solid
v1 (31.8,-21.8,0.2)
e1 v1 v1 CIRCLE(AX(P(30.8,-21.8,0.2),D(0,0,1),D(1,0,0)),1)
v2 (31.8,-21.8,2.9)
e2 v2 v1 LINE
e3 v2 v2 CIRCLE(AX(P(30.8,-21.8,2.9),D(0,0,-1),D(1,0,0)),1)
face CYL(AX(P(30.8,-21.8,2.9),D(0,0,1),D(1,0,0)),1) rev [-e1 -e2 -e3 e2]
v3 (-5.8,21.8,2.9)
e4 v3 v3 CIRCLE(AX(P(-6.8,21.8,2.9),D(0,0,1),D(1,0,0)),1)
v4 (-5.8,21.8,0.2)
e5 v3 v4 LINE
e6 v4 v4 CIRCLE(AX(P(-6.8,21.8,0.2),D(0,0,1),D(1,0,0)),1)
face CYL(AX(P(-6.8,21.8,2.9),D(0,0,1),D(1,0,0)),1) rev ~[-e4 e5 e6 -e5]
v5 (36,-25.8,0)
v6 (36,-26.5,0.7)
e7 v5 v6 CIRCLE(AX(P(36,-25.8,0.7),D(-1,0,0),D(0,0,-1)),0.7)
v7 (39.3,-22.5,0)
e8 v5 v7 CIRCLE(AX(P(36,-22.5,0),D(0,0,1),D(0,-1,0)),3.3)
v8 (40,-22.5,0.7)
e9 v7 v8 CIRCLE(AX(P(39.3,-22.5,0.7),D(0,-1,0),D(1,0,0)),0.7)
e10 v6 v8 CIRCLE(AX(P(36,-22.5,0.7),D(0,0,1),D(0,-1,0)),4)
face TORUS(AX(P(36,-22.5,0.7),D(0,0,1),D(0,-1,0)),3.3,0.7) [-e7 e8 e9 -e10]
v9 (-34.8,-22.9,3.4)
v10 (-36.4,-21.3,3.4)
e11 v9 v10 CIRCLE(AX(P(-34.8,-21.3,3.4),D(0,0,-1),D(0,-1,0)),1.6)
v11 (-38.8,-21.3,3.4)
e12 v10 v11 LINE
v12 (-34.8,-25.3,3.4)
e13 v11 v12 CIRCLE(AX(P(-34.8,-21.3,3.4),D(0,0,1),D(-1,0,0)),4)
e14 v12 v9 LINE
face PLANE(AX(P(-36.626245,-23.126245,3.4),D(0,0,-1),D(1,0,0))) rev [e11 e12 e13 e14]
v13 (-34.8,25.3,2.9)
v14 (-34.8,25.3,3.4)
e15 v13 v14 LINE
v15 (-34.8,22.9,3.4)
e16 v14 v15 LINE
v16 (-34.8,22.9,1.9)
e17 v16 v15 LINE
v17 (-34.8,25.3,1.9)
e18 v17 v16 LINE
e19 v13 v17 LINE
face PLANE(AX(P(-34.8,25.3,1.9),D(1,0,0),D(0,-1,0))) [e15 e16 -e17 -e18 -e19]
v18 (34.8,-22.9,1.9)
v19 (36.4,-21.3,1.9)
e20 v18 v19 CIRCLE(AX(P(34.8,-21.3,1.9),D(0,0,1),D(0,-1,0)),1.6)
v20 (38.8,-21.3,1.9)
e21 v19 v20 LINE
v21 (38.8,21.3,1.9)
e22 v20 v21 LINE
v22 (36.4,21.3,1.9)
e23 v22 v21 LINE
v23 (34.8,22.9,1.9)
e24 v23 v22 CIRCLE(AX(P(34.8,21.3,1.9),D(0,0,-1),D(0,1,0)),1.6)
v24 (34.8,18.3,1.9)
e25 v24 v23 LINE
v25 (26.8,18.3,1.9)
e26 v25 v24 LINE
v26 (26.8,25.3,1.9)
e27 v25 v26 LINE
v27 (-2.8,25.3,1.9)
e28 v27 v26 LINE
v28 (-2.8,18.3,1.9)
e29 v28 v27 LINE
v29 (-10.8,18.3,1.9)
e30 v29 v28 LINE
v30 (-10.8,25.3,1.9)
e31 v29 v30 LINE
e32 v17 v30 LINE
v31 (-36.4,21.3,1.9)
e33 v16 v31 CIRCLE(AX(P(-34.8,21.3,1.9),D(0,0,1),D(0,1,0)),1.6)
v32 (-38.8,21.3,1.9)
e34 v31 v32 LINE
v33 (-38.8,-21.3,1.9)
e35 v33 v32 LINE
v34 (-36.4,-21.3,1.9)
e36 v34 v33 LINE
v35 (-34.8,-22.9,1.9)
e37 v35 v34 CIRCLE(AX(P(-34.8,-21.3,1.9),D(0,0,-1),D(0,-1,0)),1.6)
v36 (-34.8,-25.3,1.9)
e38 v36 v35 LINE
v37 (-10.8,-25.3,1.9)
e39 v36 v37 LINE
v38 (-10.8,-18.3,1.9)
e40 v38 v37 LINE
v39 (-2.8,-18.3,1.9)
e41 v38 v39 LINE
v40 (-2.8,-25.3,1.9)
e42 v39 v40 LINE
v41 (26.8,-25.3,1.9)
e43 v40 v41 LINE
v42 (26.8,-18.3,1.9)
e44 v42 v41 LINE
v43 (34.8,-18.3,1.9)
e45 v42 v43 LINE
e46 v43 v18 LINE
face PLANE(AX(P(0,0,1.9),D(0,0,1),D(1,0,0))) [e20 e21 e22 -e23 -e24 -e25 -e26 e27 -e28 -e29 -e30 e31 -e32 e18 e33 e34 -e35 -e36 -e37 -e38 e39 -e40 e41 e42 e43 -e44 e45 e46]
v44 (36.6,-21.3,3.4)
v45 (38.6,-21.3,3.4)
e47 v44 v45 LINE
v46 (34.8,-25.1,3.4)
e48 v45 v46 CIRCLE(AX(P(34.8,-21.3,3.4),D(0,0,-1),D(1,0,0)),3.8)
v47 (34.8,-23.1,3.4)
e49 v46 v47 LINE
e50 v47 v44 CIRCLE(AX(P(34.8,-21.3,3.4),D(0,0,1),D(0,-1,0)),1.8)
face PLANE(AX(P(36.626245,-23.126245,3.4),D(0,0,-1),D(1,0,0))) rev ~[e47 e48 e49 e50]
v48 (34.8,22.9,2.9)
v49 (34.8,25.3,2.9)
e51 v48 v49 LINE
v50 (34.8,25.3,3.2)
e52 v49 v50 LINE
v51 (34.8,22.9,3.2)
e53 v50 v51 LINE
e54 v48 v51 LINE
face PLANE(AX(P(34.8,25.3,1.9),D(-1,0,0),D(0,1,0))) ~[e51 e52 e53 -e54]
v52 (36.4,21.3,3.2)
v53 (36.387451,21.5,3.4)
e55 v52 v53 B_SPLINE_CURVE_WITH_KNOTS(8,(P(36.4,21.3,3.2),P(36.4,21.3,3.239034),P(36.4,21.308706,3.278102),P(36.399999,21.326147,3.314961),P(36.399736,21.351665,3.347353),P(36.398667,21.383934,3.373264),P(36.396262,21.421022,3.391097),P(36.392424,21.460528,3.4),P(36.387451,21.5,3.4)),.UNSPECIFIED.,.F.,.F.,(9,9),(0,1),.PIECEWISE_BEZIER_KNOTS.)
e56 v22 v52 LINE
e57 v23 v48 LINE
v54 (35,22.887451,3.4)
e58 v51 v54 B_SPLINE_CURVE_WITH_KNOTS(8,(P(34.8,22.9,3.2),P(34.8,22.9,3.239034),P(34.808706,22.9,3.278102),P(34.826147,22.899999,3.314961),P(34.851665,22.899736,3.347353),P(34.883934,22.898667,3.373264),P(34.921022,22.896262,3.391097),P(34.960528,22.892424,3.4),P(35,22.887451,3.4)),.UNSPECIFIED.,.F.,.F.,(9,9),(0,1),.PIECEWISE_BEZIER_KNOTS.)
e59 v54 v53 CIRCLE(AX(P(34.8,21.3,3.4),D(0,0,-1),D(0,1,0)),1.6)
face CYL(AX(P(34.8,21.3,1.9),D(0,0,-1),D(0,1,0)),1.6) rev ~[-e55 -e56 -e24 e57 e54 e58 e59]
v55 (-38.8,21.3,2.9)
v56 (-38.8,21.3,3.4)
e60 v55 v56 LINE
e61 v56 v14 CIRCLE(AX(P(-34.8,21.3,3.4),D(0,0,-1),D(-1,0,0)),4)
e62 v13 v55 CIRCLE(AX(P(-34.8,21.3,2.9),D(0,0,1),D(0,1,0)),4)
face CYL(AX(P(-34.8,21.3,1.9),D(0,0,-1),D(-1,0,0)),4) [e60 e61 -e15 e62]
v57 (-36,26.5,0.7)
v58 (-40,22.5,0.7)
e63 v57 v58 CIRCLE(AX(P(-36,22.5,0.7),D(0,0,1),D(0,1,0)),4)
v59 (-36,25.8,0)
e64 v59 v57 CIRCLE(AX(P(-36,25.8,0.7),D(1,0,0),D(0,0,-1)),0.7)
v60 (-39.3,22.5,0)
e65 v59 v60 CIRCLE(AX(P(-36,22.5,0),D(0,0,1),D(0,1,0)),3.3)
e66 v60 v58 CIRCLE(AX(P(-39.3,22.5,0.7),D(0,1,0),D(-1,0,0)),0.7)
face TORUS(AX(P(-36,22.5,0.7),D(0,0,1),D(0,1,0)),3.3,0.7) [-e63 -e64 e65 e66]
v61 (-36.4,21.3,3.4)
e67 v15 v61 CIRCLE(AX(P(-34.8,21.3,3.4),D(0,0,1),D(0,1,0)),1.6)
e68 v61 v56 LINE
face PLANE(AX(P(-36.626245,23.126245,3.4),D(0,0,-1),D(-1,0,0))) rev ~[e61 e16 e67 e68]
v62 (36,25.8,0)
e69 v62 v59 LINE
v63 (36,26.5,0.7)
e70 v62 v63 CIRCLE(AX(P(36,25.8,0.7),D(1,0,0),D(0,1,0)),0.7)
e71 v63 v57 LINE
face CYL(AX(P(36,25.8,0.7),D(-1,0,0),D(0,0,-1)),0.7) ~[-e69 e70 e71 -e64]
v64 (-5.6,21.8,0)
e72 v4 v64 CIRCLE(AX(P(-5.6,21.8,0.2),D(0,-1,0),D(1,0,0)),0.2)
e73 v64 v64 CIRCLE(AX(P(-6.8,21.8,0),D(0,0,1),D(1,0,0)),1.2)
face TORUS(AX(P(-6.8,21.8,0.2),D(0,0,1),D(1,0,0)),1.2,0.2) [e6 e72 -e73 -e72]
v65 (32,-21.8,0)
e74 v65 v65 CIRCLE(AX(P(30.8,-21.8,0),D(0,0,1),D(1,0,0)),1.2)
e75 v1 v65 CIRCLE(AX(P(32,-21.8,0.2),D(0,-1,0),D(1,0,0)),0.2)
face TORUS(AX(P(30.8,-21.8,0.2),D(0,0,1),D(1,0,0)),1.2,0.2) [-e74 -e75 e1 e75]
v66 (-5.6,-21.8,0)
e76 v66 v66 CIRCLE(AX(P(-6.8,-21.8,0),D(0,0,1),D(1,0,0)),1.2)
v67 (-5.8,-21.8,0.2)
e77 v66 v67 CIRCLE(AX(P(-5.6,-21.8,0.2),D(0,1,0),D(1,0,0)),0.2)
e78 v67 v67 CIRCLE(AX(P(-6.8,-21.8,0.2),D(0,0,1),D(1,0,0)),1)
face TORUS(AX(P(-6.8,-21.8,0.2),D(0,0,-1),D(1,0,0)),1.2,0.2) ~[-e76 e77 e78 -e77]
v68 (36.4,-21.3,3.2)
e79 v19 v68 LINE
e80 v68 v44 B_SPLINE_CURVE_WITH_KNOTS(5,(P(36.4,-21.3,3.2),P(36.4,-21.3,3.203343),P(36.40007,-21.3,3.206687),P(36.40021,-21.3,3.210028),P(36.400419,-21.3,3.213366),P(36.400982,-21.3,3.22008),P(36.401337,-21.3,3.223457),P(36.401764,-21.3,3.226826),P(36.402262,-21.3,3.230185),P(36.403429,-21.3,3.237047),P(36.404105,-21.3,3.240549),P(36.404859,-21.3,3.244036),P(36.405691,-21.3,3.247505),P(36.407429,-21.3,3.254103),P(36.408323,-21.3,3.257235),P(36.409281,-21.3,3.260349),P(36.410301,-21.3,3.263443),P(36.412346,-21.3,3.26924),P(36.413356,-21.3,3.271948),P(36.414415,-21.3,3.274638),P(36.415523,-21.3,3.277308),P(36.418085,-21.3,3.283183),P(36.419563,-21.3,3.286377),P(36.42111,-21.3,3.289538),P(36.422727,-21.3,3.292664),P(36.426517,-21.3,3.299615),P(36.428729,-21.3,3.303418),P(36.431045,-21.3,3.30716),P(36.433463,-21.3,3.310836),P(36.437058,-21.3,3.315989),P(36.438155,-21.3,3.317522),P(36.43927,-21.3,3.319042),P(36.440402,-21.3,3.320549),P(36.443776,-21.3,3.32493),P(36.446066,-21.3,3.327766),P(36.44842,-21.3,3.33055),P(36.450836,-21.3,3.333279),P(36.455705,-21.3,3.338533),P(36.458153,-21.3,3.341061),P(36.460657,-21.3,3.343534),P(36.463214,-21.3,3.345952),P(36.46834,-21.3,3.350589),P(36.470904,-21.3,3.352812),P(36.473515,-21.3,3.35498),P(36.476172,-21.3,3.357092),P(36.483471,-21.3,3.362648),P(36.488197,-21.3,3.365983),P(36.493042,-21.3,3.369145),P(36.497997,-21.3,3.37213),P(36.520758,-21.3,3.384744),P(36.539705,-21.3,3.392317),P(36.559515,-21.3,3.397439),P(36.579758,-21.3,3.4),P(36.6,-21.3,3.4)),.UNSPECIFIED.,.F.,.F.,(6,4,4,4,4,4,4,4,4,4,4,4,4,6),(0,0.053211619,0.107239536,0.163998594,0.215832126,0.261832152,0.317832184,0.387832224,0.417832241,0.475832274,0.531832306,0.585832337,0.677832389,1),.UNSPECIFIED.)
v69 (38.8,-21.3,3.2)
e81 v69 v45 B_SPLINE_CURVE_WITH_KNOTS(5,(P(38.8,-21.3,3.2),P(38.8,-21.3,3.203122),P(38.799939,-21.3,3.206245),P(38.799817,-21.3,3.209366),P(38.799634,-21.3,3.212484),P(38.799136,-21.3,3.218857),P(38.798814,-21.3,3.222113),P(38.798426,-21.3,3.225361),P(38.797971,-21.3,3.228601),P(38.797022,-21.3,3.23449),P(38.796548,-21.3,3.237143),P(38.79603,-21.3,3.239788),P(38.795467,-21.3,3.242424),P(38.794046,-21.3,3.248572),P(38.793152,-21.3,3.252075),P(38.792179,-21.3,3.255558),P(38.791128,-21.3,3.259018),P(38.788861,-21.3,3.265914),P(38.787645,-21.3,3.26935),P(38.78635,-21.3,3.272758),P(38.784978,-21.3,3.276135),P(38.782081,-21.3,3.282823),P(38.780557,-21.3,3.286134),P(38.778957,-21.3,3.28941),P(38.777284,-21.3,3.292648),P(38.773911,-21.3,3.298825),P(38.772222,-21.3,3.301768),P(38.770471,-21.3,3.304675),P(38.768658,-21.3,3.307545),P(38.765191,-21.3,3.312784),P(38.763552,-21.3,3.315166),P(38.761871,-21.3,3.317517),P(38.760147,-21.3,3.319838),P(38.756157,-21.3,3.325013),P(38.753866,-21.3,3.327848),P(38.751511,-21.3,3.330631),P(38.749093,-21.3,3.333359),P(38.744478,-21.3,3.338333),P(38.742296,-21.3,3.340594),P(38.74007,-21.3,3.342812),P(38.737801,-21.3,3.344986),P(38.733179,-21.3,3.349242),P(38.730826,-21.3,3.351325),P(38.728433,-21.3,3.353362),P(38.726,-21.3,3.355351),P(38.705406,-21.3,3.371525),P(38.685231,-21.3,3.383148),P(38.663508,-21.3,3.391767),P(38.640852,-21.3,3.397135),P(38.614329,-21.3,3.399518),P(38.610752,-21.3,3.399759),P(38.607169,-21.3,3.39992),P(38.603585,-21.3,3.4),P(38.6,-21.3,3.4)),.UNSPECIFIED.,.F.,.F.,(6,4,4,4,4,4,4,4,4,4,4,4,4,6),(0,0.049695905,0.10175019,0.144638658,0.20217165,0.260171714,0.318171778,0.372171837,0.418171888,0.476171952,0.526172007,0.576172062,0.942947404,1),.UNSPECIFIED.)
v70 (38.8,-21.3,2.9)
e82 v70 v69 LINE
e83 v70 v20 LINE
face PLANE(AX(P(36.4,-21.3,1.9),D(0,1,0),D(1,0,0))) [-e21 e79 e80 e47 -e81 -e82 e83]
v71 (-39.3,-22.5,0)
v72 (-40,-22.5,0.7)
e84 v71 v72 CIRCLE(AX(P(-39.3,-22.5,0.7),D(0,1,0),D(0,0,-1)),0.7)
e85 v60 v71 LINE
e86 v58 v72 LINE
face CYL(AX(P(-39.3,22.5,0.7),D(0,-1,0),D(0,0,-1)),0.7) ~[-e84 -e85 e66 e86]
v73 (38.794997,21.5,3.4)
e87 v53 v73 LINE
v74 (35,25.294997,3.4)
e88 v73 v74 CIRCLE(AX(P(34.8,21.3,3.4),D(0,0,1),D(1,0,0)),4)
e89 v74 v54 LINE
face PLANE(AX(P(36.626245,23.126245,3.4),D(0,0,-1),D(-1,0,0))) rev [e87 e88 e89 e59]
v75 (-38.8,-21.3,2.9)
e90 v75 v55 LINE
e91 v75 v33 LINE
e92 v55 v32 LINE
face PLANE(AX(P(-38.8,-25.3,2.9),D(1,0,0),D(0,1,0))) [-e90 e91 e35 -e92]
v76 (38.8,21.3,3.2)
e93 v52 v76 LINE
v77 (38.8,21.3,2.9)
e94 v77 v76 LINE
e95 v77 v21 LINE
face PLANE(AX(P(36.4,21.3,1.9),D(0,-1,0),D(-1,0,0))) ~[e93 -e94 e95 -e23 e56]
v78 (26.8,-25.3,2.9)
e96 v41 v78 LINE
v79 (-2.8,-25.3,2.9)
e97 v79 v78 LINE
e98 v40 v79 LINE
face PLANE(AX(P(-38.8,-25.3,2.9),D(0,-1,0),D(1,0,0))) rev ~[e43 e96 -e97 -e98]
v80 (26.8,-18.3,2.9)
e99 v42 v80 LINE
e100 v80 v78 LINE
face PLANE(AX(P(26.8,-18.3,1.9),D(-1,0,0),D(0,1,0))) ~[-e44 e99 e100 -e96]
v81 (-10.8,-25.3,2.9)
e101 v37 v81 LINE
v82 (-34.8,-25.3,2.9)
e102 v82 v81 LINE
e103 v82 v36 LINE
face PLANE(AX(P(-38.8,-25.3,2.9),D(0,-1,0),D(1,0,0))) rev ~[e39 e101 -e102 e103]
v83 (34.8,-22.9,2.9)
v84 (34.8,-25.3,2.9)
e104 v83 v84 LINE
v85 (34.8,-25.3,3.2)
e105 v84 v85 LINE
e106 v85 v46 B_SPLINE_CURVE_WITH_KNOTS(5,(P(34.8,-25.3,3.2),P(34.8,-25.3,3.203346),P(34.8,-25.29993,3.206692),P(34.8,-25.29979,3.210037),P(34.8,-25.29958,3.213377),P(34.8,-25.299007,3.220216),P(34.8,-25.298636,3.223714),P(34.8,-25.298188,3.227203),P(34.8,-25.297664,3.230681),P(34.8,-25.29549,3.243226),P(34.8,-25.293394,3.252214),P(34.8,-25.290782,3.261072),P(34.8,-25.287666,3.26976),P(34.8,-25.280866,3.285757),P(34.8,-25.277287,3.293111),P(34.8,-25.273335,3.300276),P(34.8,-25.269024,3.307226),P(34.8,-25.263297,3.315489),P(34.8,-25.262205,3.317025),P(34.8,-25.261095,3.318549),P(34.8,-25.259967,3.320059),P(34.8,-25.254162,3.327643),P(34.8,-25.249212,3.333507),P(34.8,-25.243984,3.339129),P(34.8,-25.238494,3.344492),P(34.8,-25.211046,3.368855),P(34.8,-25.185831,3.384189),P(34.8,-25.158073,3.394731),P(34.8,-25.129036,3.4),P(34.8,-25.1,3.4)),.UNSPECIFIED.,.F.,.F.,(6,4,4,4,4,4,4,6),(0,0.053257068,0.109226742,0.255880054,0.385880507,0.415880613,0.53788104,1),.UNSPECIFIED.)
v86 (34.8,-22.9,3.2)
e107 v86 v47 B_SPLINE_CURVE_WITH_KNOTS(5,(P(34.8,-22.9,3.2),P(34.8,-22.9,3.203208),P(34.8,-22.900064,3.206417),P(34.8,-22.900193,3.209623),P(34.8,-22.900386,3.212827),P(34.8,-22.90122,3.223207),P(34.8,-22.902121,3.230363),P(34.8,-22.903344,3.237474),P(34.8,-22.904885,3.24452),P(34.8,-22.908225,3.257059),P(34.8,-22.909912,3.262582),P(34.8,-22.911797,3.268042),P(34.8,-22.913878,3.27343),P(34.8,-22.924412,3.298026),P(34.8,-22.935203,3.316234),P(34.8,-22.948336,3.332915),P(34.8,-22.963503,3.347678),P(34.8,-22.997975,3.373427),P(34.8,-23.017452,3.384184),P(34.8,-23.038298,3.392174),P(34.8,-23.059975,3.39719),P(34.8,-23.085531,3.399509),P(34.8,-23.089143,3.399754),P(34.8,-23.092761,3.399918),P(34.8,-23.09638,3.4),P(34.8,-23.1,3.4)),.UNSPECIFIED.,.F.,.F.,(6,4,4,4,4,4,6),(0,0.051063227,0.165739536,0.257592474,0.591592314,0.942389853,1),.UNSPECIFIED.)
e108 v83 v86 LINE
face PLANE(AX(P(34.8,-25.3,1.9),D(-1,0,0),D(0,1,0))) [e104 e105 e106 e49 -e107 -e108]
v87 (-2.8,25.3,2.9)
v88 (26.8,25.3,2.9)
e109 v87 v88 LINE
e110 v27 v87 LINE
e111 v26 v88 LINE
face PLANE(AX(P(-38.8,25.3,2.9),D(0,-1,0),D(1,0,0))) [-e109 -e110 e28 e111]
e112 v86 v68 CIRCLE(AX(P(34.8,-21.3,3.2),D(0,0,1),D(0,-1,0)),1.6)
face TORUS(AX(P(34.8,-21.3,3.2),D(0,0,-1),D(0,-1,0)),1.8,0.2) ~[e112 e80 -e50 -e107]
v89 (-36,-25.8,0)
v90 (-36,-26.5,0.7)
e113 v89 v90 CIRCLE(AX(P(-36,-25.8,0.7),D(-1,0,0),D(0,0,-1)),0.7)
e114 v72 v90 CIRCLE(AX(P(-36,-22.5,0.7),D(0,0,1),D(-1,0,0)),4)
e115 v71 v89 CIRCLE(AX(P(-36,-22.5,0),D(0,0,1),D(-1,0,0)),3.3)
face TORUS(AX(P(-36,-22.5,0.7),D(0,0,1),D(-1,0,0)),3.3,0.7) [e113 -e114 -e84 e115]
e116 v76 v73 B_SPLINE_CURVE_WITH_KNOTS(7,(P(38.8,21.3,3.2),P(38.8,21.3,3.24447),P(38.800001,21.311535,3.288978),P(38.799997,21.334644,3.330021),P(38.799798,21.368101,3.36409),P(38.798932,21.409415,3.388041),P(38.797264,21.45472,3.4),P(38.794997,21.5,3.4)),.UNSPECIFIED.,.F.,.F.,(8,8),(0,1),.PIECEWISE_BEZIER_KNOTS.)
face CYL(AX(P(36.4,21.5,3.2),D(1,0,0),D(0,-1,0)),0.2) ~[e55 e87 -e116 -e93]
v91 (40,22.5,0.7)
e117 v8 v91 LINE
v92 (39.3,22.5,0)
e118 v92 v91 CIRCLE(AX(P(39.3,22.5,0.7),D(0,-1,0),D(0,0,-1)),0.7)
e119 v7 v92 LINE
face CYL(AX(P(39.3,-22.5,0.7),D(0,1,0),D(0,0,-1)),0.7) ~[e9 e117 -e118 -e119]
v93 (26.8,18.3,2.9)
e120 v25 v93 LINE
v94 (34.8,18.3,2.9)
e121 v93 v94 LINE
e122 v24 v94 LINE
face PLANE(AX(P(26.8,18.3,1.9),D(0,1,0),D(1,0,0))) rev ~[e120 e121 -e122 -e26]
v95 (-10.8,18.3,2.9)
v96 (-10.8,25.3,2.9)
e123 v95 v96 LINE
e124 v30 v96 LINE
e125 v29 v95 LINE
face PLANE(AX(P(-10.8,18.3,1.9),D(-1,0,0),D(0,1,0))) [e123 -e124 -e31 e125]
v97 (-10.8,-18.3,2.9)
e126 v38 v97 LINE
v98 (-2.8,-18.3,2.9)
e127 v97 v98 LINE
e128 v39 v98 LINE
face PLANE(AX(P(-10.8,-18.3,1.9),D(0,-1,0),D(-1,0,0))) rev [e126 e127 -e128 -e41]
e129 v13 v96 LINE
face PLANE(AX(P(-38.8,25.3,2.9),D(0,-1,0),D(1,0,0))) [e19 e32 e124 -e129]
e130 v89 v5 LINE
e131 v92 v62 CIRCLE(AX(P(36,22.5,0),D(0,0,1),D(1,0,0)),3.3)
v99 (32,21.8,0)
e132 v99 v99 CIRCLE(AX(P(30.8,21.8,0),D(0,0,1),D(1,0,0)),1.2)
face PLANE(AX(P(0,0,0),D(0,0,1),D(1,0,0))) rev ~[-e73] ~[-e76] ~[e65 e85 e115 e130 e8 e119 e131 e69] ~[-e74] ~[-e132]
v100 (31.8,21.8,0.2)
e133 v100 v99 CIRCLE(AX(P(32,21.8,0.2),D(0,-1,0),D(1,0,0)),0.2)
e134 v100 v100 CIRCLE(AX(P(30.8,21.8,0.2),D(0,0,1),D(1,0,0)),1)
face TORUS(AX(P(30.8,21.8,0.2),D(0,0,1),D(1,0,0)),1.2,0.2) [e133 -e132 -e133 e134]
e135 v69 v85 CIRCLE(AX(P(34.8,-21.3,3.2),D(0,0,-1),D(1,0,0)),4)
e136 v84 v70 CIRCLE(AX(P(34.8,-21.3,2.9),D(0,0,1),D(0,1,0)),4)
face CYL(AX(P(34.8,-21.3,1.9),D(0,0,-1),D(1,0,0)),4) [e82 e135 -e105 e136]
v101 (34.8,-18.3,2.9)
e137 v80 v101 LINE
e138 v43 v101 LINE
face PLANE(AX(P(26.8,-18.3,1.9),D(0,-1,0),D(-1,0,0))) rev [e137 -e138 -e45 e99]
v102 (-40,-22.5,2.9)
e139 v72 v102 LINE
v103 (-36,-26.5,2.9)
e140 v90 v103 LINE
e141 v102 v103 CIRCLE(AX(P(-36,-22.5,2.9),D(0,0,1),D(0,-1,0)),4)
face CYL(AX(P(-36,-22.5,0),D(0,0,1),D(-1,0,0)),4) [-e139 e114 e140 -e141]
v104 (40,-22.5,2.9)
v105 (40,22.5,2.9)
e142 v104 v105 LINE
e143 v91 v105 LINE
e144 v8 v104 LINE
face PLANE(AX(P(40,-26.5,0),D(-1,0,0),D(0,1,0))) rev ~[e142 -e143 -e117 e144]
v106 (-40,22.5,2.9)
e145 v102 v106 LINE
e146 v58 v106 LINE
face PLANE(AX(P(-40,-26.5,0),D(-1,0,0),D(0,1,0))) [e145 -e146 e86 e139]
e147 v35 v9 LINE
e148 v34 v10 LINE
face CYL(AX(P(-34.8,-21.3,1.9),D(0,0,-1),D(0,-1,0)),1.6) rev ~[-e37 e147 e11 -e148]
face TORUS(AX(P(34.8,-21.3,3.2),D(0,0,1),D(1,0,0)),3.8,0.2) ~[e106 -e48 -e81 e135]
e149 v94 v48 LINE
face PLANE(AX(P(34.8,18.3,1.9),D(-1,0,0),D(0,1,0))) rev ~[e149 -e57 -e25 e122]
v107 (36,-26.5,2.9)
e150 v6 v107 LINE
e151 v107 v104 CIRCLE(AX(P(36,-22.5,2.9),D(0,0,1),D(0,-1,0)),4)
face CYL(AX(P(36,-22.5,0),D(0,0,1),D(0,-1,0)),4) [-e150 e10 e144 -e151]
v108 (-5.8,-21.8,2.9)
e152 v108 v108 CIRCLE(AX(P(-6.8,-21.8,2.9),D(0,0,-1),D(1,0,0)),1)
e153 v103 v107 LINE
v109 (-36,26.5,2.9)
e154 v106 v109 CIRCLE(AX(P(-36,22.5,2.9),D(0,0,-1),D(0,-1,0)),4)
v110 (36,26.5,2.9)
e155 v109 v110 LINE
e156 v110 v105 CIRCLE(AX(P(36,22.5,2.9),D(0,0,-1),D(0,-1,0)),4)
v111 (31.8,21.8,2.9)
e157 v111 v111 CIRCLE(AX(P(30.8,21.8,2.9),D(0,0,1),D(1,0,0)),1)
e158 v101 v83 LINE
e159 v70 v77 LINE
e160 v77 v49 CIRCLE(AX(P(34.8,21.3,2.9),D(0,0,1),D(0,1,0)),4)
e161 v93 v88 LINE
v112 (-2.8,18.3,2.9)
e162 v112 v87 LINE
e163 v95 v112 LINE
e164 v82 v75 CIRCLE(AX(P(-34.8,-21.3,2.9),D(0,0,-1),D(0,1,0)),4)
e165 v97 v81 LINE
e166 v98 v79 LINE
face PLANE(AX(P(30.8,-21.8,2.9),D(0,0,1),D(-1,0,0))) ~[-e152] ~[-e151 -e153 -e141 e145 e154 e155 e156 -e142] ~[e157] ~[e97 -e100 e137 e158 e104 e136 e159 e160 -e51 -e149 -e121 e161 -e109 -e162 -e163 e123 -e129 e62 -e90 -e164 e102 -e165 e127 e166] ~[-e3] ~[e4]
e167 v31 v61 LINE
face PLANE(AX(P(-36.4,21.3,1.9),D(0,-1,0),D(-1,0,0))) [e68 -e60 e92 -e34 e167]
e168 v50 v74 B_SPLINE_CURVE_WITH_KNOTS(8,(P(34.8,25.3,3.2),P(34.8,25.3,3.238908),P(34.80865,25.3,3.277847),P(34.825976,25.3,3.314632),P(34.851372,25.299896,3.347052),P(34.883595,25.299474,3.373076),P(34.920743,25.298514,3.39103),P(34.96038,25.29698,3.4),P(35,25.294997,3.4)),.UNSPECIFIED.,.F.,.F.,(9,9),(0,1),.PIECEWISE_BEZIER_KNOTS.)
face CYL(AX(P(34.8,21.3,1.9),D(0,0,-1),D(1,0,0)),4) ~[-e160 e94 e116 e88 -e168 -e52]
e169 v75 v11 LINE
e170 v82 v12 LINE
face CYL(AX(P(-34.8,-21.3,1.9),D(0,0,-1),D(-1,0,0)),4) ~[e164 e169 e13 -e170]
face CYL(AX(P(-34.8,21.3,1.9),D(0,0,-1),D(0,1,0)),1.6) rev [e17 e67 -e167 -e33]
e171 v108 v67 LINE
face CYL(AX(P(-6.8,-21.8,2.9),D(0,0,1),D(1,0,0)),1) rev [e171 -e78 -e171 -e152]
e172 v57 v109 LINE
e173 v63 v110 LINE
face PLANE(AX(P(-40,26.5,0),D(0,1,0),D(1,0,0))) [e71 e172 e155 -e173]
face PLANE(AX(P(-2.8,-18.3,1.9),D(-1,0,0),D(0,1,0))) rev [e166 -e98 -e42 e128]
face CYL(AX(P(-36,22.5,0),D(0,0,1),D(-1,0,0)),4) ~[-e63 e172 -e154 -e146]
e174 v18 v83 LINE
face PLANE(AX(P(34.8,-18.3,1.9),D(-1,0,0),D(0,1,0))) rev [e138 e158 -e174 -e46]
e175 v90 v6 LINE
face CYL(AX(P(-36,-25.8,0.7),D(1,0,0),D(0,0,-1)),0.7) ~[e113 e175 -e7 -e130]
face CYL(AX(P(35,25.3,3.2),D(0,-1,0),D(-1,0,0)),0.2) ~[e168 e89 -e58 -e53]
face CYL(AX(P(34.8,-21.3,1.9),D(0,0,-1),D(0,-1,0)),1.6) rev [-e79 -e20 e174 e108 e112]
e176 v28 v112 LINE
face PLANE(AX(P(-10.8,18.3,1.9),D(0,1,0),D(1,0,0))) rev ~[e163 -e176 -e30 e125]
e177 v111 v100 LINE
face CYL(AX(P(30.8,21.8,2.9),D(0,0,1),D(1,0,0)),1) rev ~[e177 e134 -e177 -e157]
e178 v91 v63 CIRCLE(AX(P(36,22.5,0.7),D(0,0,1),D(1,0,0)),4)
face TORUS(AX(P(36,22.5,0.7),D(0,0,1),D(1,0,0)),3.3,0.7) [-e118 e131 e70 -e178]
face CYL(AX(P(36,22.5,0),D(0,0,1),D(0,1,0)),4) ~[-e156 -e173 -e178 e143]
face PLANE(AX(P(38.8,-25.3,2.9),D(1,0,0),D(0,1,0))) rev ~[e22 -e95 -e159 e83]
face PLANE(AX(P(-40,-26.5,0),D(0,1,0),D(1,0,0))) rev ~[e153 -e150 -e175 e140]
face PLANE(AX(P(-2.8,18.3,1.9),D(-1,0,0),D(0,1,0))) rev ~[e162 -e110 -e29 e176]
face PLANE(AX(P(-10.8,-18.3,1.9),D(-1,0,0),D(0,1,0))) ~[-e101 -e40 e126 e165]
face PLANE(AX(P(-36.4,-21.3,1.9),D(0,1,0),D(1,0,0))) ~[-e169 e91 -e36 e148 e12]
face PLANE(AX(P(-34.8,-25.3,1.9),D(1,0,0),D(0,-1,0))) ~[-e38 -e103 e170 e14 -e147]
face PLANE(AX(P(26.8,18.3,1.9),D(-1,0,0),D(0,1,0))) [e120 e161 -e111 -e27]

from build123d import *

# Parameters (mm, degrees)
ESQUISSE4_W                                = 80
ESQUISSE4_H                                = 53
BOSS_EXTRU_1_DEPTH                         = 2.9
ESQUISSE6_W                                = 77.6
ESQUISSE6_H                                = 50.6
ENL_V_MAT_EXTRU_1_DEPTH                    = 1
CONG_1_R                                   = 4
CONG_2_R                                   = 0.7
BOSS_EXTRU_2_DEPTH                         = 1.5
SYM_TRIE1_AT_THE_SECOND_PLANE_COPY_1_DEPTH = 1.5
ESQUISSE11_W                               = 8
ESQUISSE11_H                               = 7
BOSS_EXTRU_3_DEPTH                         = 1
ESQUISSE12_R                               = 1
ENL_V_MAT_EXTRU_2_DEPTH                    = 49.069324938
CONG_3_R                                   = 0.2
CONG_3_OF_SYM_TRIE3_R                      = 0.2
ESQUISSE15_W                               = 8
ESQUISSE15_H                               = 7
BOSS_EXTRU_4_DEPTH                         = 1
ESQUISSE16_R                               = 1
ENL_V_MAT_EXTRU_3_DEPTH                    = 49.069324938
CONG_4_R                                   = 0.2
CONG_4_OF_SYM_TRIE4_R                      = 0.2
CONG_5_R                                   = 0.2


with BuildPart() as part:
    # Esquisse4 → Boss.-Extru.1 (new body)
    with BuildSketch(Plane.XY):
        Rectangle(ESQUISSE4_W, ESQUISSE4_H)
    extrude(amount=BOSS_EXTRU_1_DEPTH)

    # Esquisse6 → Enlèv. mat.-Extru.1 (cut)
    with BuildSketch(Plane.XY.offset(2.9)):
        Rectangle(ESQUISSE6_W, ESQUISSE6_H)
    extrude(amount=-ENL_V_MAT_EXTRU_1_DEPTH, mode=Mode.SUBTRACT)

    # Congé1
    cong_1_edges = [part.edges().sort_by_distance(p)[0] for p in [
        (38.8, 25.3, 2.4),
        (38.8, -25.3, 2.4),
        (-38.8, -25.3, 2.4),
        (-38.8, 25.3, 2.4),
        (40, -26.5, 1.45),
        (-40, -26.5, 1.45),
        (-40, 26.5, 1.45),
        (40, 26.5, 1.45),
    ]]
    fillet(cong_1_edges, radius=CONG_1_R)

    # Congé2
    cong_2_edges = [part.edges().sort_by_distance(p)[0] for p in [
        (0, -26.5, 0),
        (40, 0, 0),
        (-40, 0, 0),
        (0, 26.5, 0),
        (-38.828427125, 25.328427125, 0),
        (38.828427125, 25.328427125, 0),
        (38.828427125, -25.328427125, 0),
        (-38.828427125, -25.328427125, 0),
    ]]
    fillet(cong_2_edges, radius=CONG_2_R)

    # Esquisse8 → Boss.-Extru.2 (add)
    with BuildSketch(Plane.XY.offset(1.9)):
        with BuildLine():
            Line((-36.4, 21.3), (-38.8, 21.3))
            ThreePointArc((-38.8, 21.3), (-37.628427125, 24.128427125), (-34.8, 25.3))
            Line((-34.8, 25.3), (-34.8, 22.9))
            ThreePointArc((-34.8, 22.9), (-35.93137085, 22.43137085), (-36.4, 21.3))
        make_face()
    boss_extru_2 = extrude(amount=BOSS_EXTRU_2_DEPTH)

    # Symétrie1: Boss.-Extru.2 across plane
    add(boss_extru_2.mirror(Plane(origin=(0, 0, 0), x_dir=(0, 0, 1), z_dir=(1, 0, 0))))

    # Symétrie1 at the second plane: Boss.-Extru.2 across plane
    add(boss_extru_2.mirror(Plane.ZX))

    # Symétrie1 at the second plane copy 1 ske → Symétrie1 at the second plane copy 1 (add)
    with BuildSketch(Plane(origin=(0, 0, 1.9), x_dir=(-1, 0, 0), z_dir=(0, 0, 1))):
        with BuildLine():
            Line((-36.4, 21.3), (-38.8, 21.3))
            ThreePointArc((-38.8, 21.3), (-37.628427125, 24.128427125), (-34.8, 25.3))
            Line((-34.8, 25.3), (-34.8, 22.9))
            ThreePointArc((-34.8, 22.9), (-35.93137085, 22.43137085), (-36.4, 21.3))
        make_face()
    extrude(amount=SYM_TRIE1_AT_THE_SECOND_PLANE_COPY_1_DEPTH)

    # Esquisse11 → Boss.-Extru.3 (add)
    with BuildSketch(Plane.XY.offset(1.9)):
        with Locations((-6.8, 21.8)):
            Rectangle(ESQUISSE11_W, ESQUISSE11_H)
    boss_extru_3 = extrude(amount=BOSS_EXTRU_3_DEPTH)

    # Symétrie2: Boss.-Extru.3 across plane
    add(boss_extru_3.mirror(Plane.ZX))

    # Esquisse12 → Enlèv. mat.-Extru.2 (cut, through all)
    with BuildSketch(Plane.XY.offset(2.9)):
        with Locations((-6.8, 21.8)):
            Circle(ESQUISSE12_R)
    enl_v_mat_extru_2 = extrude(amount=-ENL_V_MAT_EXTRU_2_DEPTH, mode=Mode.SUBTRACT)

    # Congé3
    cong_3_edges = [part.edges().sort_by_distance(p)[0] for p in [
        (-7.8, 21.8, 0),
    ]]
    fillet(cong_3_edges, radius=CONG_3_R)

    # Symétrie3: Enlèv. mat.-Extru.2 across plane
    add(enl_v_mat_extru_2.mirror(Plane.ZX), mode=Mode.SUBTRACT)

    # Congé3 of Symétrie3
    cong_3_of_sym_trie3_edges = [part.edges().sort_by_distance(p)[0] for p in [
        (-7.8, -21.8, 0),
    ]]
    fillet(cong_3_of_sym_trie3_edges, radius=CONG_3_OF_SYM_TRIE3_R)

    # Esquisse15 → Boss.-Extru.4 (add)
    with BuildSketch(Plane.XY.offset(1.9)):
        with Locations((30.8, 21.8)):
            Rectangle(ESQUISSE15_W, ESQUISSE15_H)
    boss_extru_4 = extrude(amount=BOSS_EXTRU_4_DEPTH)

    # Esquisse16 → Enlèv. mat.-Extru.3 (cut, through all)
    with BuildSketch(Plane.XY.offset(2.9)):
        with Locations((30.8, 21.8)):
            Circle(ESQUISSE16_R)
    enl_v_mat_extru_3 = extrude(amount=-ENL_V_MAT_EXTRU_3_DEPTH, mode=Mode.SUBTRACT)

    # Congé4
    cong_4_edges = [part.edges().sort_by_distance(p)[0] for p in [
        (29.8, 21.8, 0),
    ]]
    fillet(cong_4_edges, radius=CONG_4_R)

    # Symétrie4: Boss.-Extru.4, Enlèv. mat.-Extru.3 across plane
    add(boss_extru_4.mirror(Plane.ZX))
    add(enl_v_mat_extru_3.mirror(Plane.ZX), mode=Mode.SUBTRACT)

    # Congé4 of Symétrie4
    cong_4_of_sym_trie4_edges = [part.edges().sort_by_distance(p)[0] for p in [
        (29.8, -21.8, 0),
    ]]
    fillet(cong_4_of_sym_trie4_edges, radius=CONG_4_OF_SYM_TRIE4_R)

    # Congé5
    cong_5_edges = [part.edges().sort_by_distance(p)[0] for p in [
        (34.8, 24.1, 3.4),
        (37.6, 21.3, 3.4),
        (37.628427125, -24.128427125, 3.4),
        (35.93137085, -22.43137085, 3.4),
    ]]
    fillet(cong_5_edges, radius=CONG_5_R)


solid = part.part
